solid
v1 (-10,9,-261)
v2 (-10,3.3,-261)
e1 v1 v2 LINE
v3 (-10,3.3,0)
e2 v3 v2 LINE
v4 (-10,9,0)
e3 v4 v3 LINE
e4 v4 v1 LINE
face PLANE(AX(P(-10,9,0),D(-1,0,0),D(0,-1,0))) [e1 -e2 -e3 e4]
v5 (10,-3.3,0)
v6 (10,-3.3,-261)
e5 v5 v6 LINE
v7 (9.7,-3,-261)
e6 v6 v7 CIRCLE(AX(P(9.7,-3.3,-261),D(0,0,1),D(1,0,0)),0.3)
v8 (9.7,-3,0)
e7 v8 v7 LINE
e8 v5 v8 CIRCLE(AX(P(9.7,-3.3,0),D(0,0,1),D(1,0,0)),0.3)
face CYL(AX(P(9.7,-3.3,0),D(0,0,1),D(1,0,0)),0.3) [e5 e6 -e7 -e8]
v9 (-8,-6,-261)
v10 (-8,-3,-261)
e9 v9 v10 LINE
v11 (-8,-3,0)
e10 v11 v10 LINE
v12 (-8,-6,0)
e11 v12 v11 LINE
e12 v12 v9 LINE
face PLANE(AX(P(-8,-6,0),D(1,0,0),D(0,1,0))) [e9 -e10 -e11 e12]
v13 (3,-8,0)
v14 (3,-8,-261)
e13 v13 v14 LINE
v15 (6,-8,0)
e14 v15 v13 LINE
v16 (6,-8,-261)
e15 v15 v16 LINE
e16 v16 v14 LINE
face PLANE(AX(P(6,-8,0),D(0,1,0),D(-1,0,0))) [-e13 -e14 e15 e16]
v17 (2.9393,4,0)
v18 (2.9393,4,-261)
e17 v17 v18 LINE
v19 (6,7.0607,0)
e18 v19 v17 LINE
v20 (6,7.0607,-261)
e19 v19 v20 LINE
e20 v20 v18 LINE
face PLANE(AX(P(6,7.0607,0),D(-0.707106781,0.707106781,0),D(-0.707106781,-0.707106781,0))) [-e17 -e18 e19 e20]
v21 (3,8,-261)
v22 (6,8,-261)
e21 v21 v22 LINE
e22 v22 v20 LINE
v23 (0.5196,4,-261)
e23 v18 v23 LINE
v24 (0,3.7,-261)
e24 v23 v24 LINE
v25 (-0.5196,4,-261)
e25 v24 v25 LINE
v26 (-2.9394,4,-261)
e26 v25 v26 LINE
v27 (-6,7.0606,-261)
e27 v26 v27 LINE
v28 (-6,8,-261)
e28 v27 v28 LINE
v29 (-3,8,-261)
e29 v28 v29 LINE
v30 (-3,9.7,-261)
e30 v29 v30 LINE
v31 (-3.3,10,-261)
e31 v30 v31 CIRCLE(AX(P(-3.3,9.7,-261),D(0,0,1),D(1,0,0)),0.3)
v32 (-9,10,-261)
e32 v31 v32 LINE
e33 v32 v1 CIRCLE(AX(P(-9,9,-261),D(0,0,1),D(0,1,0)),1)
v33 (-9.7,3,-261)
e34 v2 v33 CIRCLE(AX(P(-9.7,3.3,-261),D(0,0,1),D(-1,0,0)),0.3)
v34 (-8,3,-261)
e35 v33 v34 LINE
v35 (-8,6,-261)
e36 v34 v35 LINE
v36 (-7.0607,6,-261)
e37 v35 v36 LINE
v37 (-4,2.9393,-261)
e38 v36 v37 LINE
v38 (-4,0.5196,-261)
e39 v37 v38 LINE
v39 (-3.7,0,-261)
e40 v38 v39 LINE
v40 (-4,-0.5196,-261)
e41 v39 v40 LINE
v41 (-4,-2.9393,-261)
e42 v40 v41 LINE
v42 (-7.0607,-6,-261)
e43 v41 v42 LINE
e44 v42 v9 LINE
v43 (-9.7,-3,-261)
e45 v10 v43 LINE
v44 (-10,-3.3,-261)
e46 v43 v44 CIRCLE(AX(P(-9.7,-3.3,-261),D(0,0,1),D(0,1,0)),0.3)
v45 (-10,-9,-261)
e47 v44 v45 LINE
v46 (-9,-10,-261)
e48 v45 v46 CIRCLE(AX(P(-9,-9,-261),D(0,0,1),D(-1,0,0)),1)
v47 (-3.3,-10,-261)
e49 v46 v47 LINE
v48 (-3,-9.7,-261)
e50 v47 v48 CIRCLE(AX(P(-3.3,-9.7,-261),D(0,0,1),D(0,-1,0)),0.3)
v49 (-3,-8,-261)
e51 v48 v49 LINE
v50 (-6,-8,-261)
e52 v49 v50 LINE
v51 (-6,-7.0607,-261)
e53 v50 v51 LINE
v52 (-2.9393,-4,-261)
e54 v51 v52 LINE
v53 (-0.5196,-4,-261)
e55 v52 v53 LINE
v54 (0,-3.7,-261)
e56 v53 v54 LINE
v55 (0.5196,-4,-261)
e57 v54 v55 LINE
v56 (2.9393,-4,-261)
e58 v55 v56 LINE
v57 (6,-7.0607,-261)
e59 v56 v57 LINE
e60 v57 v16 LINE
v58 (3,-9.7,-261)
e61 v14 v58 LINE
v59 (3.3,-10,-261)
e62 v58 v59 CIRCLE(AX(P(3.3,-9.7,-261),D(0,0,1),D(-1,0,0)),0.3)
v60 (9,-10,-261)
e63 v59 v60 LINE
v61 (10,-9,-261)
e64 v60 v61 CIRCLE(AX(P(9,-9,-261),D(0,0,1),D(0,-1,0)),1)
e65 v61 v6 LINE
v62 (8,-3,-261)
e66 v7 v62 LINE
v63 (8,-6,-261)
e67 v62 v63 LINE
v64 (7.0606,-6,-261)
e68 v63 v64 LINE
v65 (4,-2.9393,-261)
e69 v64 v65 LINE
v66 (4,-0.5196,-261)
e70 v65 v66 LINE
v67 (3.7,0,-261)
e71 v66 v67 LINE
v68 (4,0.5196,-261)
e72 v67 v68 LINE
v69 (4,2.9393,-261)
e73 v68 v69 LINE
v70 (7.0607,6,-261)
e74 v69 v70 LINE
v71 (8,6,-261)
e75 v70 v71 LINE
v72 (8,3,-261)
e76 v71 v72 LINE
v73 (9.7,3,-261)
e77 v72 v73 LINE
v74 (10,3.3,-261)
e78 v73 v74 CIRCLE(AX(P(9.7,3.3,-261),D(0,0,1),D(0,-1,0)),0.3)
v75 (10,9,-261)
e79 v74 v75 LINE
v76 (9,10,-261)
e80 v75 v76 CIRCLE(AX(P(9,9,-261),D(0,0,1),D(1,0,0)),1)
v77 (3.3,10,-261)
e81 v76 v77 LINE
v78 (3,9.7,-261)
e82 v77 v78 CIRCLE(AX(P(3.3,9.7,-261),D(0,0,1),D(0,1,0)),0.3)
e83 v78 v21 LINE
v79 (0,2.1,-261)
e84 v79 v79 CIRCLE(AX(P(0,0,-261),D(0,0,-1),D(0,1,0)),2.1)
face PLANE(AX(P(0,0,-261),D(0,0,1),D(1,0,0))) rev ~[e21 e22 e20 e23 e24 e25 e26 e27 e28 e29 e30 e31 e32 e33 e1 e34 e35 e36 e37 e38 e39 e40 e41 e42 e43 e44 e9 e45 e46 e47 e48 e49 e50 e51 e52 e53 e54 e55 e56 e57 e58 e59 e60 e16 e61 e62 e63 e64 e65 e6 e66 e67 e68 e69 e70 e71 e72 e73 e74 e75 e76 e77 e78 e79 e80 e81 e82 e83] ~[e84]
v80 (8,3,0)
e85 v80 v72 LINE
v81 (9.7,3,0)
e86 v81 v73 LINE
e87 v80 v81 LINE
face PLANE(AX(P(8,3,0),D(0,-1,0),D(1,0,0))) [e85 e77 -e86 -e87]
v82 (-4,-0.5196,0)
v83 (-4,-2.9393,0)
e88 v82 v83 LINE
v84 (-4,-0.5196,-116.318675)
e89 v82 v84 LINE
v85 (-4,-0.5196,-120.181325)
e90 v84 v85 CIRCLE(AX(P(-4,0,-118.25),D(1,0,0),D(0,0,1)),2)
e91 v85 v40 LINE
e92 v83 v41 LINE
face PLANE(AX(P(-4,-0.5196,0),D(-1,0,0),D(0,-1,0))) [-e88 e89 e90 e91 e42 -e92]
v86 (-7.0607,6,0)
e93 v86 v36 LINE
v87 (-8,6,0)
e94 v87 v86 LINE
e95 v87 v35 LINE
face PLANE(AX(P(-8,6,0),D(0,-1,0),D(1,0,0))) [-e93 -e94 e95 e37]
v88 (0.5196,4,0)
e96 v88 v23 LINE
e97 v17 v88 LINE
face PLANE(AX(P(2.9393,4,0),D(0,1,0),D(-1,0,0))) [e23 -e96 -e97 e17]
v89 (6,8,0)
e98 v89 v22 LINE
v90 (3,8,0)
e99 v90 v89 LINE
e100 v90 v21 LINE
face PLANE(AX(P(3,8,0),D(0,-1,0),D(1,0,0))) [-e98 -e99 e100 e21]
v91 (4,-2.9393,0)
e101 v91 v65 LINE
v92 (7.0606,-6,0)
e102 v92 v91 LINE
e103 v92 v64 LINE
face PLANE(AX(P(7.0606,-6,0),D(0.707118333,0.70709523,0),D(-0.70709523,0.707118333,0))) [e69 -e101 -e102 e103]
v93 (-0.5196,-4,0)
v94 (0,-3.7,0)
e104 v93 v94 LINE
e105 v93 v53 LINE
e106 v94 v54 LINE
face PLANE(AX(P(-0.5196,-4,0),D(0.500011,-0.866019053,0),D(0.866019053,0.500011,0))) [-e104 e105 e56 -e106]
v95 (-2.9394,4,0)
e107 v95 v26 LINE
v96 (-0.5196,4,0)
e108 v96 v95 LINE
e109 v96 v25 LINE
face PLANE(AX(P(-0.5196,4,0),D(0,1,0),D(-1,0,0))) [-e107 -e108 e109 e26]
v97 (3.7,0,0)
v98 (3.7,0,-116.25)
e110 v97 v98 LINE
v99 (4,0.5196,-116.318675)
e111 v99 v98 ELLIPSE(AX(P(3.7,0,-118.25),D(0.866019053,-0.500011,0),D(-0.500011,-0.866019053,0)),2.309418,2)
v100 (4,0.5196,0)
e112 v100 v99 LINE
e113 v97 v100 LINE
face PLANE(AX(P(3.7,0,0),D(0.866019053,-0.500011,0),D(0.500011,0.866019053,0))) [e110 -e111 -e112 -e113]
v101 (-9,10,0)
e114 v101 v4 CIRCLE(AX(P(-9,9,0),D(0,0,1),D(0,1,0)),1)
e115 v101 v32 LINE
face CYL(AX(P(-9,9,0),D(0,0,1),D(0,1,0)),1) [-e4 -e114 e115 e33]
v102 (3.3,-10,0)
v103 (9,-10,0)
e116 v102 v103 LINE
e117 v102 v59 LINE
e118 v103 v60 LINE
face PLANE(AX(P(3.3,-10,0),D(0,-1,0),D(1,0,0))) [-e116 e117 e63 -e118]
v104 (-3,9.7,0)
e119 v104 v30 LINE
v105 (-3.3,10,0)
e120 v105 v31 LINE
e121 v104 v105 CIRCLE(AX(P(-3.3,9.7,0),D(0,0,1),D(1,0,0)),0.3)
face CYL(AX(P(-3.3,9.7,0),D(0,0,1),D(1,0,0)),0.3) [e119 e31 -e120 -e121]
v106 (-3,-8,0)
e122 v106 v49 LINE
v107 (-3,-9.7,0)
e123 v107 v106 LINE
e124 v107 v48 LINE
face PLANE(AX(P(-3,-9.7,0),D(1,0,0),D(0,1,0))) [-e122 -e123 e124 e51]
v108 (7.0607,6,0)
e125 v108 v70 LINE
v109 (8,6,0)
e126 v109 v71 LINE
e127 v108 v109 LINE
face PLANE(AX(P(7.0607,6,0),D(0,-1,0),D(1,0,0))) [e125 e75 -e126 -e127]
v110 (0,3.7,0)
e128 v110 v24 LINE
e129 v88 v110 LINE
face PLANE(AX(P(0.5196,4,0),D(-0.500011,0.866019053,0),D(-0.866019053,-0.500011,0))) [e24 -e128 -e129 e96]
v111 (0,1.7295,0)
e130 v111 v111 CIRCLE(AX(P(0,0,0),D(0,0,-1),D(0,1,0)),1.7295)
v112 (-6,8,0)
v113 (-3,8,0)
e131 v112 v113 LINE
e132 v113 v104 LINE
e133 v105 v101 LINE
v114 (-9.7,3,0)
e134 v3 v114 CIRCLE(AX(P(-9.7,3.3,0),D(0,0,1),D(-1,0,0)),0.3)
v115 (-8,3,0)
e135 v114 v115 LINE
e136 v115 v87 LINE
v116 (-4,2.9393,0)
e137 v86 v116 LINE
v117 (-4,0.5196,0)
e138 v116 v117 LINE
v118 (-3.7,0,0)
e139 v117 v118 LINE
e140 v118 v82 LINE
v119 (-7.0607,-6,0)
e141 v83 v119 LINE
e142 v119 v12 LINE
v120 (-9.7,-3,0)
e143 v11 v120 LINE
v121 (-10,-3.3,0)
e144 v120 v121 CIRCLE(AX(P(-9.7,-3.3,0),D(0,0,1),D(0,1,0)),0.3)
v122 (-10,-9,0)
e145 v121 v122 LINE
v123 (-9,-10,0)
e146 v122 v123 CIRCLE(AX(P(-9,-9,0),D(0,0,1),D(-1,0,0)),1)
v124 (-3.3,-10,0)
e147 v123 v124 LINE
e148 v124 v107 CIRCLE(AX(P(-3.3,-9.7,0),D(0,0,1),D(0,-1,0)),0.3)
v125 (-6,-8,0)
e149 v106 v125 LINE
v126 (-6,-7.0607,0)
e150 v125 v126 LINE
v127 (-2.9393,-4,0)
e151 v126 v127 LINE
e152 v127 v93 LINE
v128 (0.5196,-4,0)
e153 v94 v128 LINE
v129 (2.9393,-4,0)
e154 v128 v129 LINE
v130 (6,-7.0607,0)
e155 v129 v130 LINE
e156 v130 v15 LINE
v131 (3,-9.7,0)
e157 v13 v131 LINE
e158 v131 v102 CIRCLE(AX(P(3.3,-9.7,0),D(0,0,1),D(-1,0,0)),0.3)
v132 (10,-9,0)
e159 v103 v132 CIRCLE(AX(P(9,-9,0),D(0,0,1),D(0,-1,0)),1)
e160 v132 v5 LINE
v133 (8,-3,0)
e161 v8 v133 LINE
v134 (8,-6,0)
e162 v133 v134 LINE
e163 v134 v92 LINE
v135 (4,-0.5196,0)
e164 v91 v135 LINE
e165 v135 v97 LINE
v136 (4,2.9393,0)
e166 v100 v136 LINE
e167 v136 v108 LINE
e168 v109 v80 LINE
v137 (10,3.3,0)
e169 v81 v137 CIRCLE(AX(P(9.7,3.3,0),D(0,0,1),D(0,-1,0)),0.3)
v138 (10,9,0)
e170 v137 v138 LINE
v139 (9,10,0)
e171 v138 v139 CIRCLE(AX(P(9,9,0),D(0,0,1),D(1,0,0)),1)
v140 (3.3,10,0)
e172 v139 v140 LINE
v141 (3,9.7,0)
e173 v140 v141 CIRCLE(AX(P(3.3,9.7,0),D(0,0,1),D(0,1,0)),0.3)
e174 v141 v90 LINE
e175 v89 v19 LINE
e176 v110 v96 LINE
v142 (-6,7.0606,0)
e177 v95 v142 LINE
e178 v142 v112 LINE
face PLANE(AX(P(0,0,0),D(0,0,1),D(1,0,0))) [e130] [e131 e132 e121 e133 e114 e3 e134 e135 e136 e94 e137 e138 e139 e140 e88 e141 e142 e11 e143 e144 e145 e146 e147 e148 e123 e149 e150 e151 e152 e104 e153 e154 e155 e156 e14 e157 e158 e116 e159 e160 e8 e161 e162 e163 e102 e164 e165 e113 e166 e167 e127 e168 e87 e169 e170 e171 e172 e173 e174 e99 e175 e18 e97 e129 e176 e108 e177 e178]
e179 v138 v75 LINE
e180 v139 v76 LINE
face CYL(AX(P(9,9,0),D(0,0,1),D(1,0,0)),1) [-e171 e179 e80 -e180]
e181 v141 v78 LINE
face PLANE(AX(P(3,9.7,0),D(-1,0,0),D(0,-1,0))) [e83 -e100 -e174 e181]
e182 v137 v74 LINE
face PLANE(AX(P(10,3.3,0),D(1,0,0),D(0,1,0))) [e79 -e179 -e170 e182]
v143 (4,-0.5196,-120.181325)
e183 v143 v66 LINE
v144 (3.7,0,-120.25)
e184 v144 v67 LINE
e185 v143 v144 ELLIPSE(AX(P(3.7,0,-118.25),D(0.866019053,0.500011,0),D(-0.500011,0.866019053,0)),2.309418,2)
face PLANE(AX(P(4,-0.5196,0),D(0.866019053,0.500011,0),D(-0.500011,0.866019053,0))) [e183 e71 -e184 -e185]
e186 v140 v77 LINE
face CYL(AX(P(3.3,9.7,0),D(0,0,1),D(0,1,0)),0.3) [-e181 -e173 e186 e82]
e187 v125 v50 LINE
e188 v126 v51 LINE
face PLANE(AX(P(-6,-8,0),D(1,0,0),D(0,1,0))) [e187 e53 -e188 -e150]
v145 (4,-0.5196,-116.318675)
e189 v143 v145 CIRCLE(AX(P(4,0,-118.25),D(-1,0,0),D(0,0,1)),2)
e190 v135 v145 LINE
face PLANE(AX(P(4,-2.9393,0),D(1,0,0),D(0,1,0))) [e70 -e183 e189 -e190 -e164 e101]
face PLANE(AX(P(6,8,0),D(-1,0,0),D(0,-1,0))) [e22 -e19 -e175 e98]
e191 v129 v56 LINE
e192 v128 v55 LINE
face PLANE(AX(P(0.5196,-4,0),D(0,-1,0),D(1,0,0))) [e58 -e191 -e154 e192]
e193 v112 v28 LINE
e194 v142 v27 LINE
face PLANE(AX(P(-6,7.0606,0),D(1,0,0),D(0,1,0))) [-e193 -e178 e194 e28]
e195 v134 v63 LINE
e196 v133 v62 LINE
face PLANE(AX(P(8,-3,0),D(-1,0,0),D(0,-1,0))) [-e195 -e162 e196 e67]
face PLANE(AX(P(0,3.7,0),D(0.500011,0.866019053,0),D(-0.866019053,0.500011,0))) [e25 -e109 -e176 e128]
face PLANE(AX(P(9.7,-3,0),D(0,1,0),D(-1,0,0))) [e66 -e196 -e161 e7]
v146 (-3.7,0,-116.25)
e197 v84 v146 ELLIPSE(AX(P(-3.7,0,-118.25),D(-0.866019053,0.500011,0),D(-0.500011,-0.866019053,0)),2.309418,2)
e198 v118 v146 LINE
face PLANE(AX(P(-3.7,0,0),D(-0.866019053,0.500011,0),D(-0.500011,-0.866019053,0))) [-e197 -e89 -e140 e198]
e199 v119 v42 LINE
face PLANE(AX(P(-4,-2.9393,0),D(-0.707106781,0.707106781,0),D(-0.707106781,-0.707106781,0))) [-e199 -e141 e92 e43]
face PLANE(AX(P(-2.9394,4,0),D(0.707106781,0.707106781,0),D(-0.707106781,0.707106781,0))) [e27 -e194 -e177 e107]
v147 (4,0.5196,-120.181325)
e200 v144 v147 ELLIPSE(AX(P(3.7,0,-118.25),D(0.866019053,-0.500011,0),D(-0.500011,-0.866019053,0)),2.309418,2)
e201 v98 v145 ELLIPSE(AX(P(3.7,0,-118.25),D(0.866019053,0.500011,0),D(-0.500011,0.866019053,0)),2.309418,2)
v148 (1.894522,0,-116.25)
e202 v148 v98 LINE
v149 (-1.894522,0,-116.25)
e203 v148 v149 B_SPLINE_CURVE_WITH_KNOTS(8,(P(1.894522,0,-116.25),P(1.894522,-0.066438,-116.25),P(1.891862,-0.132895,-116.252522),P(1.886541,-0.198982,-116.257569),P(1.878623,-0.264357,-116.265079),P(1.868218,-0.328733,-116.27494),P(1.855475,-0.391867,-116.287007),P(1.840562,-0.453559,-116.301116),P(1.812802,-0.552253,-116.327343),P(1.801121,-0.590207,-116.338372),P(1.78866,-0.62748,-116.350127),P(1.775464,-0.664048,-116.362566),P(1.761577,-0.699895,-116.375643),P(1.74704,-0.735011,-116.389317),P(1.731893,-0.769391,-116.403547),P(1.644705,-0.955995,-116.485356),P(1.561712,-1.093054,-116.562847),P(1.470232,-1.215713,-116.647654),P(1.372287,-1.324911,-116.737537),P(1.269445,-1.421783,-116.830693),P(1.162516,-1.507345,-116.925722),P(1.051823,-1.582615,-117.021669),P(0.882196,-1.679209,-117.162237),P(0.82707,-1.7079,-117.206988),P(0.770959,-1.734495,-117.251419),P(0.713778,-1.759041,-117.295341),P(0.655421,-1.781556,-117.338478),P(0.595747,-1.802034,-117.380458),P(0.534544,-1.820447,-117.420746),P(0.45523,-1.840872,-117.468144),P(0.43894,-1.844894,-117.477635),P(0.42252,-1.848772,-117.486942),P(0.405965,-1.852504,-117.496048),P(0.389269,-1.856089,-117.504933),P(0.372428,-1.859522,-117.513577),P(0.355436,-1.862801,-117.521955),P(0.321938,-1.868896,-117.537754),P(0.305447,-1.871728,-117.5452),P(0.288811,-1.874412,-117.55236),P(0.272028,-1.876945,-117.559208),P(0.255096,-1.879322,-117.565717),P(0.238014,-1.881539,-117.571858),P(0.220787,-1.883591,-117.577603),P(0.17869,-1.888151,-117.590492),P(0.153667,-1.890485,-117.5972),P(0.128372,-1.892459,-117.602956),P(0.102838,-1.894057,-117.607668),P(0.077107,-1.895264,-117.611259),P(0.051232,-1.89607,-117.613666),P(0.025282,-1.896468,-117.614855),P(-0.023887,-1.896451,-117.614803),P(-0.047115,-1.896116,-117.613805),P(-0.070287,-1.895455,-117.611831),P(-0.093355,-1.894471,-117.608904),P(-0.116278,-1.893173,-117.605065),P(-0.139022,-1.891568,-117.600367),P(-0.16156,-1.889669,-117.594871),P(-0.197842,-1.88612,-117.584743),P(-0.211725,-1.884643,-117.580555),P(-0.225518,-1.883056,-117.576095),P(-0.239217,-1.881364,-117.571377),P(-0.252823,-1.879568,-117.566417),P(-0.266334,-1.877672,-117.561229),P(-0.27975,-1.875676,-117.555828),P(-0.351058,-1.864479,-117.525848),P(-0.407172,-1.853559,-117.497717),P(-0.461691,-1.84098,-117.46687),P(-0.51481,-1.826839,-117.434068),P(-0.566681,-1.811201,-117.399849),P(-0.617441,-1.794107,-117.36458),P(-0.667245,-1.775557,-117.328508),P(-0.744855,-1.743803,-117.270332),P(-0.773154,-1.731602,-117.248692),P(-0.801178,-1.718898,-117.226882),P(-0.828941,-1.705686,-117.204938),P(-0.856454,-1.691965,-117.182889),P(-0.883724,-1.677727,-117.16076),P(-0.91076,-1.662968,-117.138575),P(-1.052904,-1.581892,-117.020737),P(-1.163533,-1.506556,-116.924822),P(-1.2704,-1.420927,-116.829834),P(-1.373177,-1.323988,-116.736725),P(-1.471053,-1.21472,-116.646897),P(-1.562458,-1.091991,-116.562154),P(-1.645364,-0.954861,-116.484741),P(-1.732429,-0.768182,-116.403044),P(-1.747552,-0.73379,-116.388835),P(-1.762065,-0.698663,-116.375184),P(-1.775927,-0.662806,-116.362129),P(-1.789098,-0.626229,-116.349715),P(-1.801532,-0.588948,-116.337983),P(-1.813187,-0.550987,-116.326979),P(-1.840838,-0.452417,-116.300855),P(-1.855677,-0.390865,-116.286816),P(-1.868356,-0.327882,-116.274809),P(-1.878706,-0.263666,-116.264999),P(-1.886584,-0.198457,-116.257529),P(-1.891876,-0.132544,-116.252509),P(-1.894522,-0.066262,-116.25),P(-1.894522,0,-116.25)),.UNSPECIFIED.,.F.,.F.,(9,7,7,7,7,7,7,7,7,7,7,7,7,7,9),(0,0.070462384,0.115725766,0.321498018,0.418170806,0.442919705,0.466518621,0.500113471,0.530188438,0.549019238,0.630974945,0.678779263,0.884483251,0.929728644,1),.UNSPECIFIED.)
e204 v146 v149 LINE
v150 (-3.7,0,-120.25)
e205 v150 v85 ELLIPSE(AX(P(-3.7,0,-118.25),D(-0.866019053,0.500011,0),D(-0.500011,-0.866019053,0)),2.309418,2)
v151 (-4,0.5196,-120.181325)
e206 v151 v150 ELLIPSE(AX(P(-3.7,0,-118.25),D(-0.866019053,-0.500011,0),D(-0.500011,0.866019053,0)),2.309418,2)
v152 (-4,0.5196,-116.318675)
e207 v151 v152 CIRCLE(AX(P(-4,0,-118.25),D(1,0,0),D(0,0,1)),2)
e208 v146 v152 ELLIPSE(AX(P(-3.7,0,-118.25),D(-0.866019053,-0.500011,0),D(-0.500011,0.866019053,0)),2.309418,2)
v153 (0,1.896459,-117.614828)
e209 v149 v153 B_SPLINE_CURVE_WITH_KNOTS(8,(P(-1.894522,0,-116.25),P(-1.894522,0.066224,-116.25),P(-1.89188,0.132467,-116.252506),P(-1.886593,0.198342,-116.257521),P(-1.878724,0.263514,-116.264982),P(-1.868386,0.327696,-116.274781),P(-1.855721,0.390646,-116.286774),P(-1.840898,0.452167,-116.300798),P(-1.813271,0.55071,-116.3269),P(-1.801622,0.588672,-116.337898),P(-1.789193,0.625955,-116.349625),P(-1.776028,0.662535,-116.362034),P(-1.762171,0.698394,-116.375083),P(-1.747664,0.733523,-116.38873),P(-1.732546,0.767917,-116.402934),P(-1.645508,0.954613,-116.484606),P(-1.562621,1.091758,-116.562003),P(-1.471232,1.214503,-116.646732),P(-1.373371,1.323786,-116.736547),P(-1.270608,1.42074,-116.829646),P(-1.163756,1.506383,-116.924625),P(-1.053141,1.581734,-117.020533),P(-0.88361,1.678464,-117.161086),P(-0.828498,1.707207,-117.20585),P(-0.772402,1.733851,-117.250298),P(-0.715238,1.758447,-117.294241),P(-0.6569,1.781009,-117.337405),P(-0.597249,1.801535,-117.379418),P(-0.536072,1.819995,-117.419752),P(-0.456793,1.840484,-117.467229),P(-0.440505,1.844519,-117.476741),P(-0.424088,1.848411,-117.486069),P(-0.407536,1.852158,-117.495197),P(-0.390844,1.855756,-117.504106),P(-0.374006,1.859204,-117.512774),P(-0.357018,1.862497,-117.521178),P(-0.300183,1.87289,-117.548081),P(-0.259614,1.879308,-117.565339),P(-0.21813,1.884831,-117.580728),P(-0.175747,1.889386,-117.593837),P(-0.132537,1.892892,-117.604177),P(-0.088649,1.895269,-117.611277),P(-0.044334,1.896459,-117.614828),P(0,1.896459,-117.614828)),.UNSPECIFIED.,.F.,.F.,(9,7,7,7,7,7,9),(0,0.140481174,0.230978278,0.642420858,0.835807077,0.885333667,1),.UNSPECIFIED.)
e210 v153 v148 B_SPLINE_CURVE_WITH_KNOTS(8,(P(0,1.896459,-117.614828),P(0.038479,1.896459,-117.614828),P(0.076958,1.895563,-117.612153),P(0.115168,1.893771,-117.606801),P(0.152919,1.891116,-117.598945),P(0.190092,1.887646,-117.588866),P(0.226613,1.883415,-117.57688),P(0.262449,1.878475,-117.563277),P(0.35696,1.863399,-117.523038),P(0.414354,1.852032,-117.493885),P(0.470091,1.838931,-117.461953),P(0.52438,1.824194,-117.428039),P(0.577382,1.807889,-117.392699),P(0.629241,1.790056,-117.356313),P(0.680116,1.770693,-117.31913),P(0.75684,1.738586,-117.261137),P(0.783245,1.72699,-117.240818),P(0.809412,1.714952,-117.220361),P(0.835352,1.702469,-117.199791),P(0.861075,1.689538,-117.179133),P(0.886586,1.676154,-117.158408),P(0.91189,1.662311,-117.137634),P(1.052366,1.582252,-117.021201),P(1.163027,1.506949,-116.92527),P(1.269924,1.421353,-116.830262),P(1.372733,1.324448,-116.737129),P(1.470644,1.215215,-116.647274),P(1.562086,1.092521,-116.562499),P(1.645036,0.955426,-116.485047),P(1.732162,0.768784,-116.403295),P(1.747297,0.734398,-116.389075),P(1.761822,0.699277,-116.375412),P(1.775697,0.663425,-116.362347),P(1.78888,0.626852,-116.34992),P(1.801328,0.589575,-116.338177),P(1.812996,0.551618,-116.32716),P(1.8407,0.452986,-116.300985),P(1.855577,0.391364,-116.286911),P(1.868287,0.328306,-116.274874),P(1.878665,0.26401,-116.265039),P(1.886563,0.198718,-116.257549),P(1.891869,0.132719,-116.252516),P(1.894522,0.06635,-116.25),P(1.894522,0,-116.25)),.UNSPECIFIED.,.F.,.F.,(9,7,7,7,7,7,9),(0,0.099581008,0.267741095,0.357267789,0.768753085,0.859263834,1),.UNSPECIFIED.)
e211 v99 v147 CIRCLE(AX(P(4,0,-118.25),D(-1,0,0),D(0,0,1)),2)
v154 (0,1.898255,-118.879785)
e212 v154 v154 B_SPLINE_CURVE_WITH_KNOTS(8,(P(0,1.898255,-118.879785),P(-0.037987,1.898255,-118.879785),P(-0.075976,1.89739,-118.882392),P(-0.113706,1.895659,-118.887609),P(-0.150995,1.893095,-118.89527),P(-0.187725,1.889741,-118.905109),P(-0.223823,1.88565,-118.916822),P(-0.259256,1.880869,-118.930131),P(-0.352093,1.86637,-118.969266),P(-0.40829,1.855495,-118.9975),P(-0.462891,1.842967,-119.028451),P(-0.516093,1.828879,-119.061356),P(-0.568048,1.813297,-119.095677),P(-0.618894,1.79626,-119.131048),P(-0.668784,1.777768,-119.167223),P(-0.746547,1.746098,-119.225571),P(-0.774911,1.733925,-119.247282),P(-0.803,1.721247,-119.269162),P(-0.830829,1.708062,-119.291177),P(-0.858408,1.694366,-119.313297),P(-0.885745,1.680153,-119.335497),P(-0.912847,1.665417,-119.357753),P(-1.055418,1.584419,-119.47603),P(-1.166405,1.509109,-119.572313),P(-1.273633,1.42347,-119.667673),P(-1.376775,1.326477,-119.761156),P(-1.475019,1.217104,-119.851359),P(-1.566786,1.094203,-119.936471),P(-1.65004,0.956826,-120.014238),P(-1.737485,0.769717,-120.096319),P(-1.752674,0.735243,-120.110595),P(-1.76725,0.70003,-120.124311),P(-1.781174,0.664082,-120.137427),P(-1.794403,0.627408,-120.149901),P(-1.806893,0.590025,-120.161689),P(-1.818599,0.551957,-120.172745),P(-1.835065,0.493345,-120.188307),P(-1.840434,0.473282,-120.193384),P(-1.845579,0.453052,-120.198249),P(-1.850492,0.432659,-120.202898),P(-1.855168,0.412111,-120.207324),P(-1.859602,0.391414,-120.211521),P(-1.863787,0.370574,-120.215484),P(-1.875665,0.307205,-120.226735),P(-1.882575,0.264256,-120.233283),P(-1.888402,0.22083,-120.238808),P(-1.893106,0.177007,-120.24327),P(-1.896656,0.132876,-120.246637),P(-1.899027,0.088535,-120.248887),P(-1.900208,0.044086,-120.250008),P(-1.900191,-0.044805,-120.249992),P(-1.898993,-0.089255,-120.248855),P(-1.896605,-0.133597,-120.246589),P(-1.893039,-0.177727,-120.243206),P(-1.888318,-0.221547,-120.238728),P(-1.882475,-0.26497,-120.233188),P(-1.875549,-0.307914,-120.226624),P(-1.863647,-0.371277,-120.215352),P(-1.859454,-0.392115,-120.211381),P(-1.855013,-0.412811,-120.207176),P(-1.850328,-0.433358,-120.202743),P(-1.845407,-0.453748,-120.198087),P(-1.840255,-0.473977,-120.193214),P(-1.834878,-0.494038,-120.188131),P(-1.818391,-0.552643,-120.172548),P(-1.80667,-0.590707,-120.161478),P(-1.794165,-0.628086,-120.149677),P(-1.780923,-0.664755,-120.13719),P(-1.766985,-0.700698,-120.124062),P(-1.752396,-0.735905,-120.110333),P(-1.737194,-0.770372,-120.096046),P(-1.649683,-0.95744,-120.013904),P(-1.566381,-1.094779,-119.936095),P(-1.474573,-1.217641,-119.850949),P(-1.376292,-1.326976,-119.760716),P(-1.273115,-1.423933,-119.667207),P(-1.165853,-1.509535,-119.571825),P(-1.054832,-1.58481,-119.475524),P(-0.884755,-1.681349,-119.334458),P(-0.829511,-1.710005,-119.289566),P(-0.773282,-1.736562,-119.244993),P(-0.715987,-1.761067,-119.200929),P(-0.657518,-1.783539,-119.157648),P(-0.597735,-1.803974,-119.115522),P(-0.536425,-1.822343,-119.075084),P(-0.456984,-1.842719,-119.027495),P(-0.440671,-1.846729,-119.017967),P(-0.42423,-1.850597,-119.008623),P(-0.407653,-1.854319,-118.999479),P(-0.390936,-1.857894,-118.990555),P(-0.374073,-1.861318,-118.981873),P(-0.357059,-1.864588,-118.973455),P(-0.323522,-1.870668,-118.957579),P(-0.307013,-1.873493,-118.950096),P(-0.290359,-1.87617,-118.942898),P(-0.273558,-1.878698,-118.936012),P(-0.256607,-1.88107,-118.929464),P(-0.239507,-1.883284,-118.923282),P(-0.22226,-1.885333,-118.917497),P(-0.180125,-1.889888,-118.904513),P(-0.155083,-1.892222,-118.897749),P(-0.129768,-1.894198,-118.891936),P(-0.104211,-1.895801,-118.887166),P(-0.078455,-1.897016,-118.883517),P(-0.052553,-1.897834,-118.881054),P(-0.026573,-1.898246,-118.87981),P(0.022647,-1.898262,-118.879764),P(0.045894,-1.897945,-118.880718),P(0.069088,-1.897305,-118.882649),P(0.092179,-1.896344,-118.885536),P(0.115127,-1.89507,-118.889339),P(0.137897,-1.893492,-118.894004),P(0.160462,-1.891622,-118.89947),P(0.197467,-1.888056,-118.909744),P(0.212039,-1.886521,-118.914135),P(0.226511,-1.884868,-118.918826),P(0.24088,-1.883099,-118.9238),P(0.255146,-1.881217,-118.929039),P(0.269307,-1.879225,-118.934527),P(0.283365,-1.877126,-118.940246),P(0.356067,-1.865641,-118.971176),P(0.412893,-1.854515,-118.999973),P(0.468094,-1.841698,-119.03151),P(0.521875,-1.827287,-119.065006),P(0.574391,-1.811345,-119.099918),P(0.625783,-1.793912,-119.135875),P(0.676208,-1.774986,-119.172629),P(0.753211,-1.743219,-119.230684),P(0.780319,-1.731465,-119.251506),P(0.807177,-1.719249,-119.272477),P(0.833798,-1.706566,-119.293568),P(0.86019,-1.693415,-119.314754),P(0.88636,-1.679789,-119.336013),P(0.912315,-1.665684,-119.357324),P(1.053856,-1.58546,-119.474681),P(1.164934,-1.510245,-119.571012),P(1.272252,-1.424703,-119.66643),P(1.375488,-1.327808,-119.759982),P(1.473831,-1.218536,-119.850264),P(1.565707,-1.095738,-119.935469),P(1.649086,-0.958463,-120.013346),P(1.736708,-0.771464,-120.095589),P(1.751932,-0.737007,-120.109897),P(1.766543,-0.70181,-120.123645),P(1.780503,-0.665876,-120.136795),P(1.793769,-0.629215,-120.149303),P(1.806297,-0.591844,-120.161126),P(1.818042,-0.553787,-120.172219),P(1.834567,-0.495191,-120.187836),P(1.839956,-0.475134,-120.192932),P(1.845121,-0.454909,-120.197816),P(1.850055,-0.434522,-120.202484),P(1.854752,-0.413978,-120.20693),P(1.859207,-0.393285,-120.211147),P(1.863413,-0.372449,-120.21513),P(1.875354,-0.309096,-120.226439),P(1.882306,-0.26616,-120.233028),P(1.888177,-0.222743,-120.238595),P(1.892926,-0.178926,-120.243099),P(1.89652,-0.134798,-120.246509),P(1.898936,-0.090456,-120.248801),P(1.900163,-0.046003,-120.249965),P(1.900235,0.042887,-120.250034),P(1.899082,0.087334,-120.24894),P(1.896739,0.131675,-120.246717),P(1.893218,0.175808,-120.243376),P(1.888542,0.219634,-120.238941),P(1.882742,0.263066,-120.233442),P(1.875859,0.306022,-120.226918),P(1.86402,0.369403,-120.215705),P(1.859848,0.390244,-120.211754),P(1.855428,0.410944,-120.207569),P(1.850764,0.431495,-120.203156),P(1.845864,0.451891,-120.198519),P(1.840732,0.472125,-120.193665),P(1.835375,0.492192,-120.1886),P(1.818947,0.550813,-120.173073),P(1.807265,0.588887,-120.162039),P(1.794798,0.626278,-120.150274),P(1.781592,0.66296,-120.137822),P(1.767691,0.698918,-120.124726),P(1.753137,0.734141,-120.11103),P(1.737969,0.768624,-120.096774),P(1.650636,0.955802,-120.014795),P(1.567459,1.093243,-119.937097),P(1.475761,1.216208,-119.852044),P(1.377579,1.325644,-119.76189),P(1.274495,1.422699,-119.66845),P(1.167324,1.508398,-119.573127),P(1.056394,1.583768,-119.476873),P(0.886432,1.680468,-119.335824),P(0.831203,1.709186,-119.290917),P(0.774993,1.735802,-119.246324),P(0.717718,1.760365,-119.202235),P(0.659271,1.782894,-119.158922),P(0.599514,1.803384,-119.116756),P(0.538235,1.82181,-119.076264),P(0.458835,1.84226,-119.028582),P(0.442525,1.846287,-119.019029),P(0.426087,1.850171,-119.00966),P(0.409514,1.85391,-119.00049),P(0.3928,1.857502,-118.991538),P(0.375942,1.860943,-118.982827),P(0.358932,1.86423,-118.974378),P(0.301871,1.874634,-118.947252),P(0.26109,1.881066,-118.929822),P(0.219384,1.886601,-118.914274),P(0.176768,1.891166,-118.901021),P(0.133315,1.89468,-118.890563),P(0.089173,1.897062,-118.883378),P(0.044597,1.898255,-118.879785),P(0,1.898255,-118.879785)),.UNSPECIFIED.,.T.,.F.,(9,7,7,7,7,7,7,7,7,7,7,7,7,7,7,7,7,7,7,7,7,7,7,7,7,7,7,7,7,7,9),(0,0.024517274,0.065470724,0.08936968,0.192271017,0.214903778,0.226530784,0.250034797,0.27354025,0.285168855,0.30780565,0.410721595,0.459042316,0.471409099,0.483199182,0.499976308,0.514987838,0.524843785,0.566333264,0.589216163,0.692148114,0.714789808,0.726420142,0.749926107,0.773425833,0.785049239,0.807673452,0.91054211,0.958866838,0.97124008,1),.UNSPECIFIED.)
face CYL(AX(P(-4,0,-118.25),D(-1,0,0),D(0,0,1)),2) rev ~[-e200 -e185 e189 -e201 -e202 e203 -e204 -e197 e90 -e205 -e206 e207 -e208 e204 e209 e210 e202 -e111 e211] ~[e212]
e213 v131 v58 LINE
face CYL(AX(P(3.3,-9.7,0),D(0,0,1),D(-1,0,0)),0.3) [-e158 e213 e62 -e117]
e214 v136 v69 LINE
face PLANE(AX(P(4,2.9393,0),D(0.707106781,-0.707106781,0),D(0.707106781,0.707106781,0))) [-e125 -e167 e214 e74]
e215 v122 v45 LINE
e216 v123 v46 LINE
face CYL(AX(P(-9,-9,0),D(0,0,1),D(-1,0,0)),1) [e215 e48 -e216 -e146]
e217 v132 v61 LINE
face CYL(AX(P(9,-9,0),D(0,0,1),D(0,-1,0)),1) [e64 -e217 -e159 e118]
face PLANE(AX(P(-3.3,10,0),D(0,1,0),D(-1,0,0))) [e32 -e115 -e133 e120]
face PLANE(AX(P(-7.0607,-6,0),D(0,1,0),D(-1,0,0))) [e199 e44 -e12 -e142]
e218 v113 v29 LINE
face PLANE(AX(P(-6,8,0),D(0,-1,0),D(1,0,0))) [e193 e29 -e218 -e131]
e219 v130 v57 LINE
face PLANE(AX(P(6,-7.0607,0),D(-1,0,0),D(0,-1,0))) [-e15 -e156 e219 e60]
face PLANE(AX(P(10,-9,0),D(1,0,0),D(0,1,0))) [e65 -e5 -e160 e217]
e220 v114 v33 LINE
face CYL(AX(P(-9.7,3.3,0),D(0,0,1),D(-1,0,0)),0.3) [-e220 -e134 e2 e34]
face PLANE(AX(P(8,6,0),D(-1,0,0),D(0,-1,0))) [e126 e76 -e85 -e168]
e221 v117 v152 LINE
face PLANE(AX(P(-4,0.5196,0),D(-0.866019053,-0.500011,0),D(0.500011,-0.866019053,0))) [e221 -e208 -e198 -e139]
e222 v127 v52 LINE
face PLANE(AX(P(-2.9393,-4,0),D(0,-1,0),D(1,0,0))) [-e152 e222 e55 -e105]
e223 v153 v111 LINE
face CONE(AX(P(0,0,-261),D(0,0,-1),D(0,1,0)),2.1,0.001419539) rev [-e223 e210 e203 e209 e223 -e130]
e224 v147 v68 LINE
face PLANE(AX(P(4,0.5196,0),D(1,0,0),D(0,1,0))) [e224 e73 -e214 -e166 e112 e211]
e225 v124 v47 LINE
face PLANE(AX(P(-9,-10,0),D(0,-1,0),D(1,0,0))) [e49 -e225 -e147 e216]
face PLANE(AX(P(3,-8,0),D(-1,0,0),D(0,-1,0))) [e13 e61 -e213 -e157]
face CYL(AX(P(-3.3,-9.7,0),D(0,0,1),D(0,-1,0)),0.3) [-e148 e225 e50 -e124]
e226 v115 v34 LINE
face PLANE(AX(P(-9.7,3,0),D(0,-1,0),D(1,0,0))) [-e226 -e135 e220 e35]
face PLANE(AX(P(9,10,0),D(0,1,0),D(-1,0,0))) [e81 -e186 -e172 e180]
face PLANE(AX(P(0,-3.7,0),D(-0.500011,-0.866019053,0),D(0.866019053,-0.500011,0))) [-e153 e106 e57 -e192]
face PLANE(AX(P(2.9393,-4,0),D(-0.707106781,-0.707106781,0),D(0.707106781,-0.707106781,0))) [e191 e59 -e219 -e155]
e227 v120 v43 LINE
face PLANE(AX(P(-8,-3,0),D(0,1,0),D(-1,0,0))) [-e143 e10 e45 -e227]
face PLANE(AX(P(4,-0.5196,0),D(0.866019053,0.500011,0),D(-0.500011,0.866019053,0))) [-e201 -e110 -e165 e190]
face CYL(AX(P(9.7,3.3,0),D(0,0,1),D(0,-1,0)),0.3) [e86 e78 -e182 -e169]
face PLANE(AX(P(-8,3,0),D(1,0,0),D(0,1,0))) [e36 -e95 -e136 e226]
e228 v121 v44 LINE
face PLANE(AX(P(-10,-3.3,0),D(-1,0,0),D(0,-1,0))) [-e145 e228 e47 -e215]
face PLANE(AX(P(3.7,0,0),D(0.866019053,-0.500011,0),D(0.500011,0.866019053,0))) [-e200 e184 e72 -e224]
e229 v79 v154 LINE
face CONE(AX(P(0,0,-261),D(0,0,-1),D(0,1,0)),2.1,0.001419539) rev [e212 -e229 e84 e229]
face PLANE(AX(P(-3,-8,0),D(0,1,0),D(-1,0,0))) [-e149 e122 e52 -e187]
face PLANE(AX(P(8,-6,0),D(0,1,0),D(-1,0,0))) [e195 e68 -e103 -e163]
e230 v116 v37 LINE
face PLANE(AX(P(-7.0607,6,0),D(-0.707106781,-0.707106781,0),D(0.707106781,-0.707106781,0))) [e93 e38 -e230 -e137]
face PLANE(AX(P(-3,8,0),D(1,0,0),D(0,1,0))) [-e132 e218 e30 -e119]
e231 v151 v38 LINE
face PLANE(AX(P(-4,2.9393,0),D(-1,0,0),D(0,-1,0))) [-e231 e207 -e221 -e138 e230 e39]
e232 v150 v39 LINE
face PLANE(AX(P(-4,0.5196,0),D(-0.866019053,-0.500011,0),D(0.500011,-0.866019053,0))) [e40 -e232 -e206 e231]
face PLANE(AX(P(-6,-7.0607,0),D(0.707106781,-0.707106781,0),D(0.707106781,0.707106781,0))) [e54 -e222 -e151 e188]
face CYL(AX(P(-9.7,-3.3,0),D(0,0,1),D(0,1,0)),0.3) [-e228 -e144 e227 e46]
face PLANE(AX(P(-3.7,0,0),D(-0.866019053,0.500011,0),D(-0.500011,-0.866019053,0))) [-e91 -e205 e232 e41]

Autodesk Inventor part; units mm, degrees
sketch "Sketch_1" plane through (0, 0, 0) normal (0, 0, 1) x (1, 0, 0)
  line L0 (-10, 9) -> (-10, 3.3)
  arc A0 (-10, 3.3) -> (-9.7, 3) centre (-9.7, 3.3) ccw
  line L1 (-9.7, 3) -> (-8, 3)
  line L2 (-8, 3) -> (-8, 6)
  line L3 (-8, 6) -> (-7.0607, 6)
  line L4 (-7.0607, 6) -> (-4, 2.9393)
  line L5 (-4, 2.9393) -> (-4, 0.5196)
  line L6 (-4, 0.5196) -> (-3.7, 0)
  line L7 (-3.7, 0) -> (-4, -0.5196)
  line L8 (-4, -0.5196) -> (-4, -2.9393)
  line L9 (-4, -2.9393) -> (-7.0607, -6)
  line L10 (-7.0607, -6) -> (-8, -6)
  line L11 (-8, -6) -> (-8, -3)
  line L12 (-8, -3) -> (-9.7, -3)
  arc A1 (-9.7, -3) -> (-10, -3.3) centre (-9.7, -3.3) ccw
  line L13 (-10, -3.3) -> (-10, -9)
  arc A2 (-10, -9) -> (-9, -10) centre (-9, -9) ccw
  line L14 (-9, -10) -> (-3.3, -10)
  arc A3 (-3.3, -10) -> (-3, -9.7) centre (-3.3, -9.7) ccw
  line L15 (-3, -9.7) -> (-3, -8)
  line L16 (-3, -8) -> (-6, -8)
  line L17 (-6, -8) -> (-6, -7.0607)
  line L18 (-6, -7.0607) -> (-2.9393, -4)
  line L19 (-2.9393, -4) -> (-0.5196, -4)
  line L20 (-0.5196, -4) -> (0, -3.7)
  line L21 (0, -3.7) -> (0.5196, -4)
  line L22 (0.5196, -4) -> (2.9393, -4)
  line L23 (2.9393, -4) -> (6, -7.0607)
  line L24 (6, -7.0607) -> (6, -8)
  line L25 (6, -8) -> (3, -8)
  line L26 (3, -8) -> (3, -9.7)
  arc A4 (3, -9.7) -> (3.3, -10) centre (3.3, -9.7) ccw
  line L27 (3.3, -10) -> (9, -10)
  arc A5 (9, -10) -> (10, -9) centre (9, -9) ccw
  line L28 (10, -9) -> (10, -3.3)
  arc A6 (10, -3.3) -> (9.7, -3) centre (9.7, -3.3) ccw
  line L29 (9.7, -3) -> (8, -3)
  line L30 (8, -3) -> (8, -6)
  line L31 (8, -6) -> (7.0606, -6)
  line L32 (7.0606, -6) -> (4, -2.9393)
  line L33 (4, -2.9393) -> (4, -0.5196)
  line L34 (4, -0.5196) -> (3.7, 0)
  line L35 (3.7, 0) -> (4, 0.5196)
  line L36 (4, 0.5196) -> (4, 2.9393)
  line L37 (4, 2.9393) -> (7.0607, 6)
  line L38 (7.0607, 6) -> (8, 6)
  line L39 (8, 6) -> (8, 3)
  line L40 (8, 3) -> (9.7, 3)
  arc A7 (9.7, 3) -> (10, 3.3) centre (9.7, 3.3) ccw
  line L41 (10, 3.3) -> (10, 9)
  arc A8 (10, 9) -> (9, 10) centre (9, 9) ccw
  line L42 (9, 10) -> (3.3, 10)
  arc A9 (3.3, 10) -> (3, 9.7) centre (3.3, 9.7) ccw
  line L43 (3, 9.7) -> (3, 8)
  line L44 (3, 8) -> (6, 8)
  line L45 (6, 8) -> (6, 7.0607)
  line L46 (6, 7.0607) -> (2.9393, 4)
  line L47 (2.9393, 4) -> (0.5196, 4)
  line L48 (0.5196, 4) -> (0, 3.7)
  line L49 (0, 3.7) -> (-0.5196, 4)
  line L50 (-0.5196, 4) -> (-2.9394, 4)
  line L51 (-2.9394, 4) -> (-6, 7.0606)
  line L52 (-6, 7.0606) -> (-6, 8)
  line L53 (-6, 8) -> (-3, 8)
  line L54 (-3, 8) -> (-3, 9.7)
  arc A10 (-3, 9.7) -> (-3.3, 10) centre (-3.3, 9.7) ccw
  line L55 (-3.3, 10) -> (-9, 10)
  arc A11 (-9, 10) -> (-10, 9) centre (-9, 9) ccw
extrude "Extrusion1" add sketch "Sketch_1" against normal blind 261
sketch "Sketch_2" plane through (0, 0, 0) normal (1, 0, 0) x (0, 0, -1)
  line L0 (261, -2.9393) -> (261, -0.5196) projected
  line L1 (0, 0.5196) -> (0, 2.9393) projected
  line L2 (0, 0) -> (0, 0.5196) projected
  line L3 (0, 0) -> (261, 0)
  line L4 (261, 0) -> (261, 2.1)
  line L5 (261, 0.5196) -> (261, 2.9393) projected
  line L6 (261, 2.1) -> (0, 1.7295)
  line L7 (0, 1.7295) -> (0, 0)
  dimension "d3" = 2.1
ref_plane "C1_XY" through (0, 0, 0) normal (0, 0, 1) x (1, 0, 0)
ref_plane "C1_YZ" through (0, 0, 0) normal (1, 0, 0) x (0, 1, 0)
ref_plane "C1_ZX" through (0, 0, 0) normal (0, 1, 0) x (0, 0, 1)
revolve "Revolution2" cut sketch "Sketch_2" angle 360 about axis through (0, 0, 0) along (0, 0, -1)
sketch "Sketch3" plane through (-4, 0.5196, -261) normal (-1, 0, 0) x (0, 0, 1)
  line L0 (261, -0.5196) -> (0, -0.5196) projected
  line L1 (0, -1.0392) -> (0, -3.459) projected
  line L2 (261, -3.459) -> (0, -3.459) projected
  line L3 (261, -1.0392) -> (261, -3.459) projected
  line L4 (261, -1.0392) -> (0, -1.0392) projected
  line L5 (261, -0.5196) -> (0, -0.5196) projected
  circle A0 centre (142.75, -0.5196) radius 2
  line L6 (261, 8.4804) -> (261, 2.7804) projected
  dimension "d5" = 4
  dimension "d6" = 118.25
extrude "Extrusion2" cut sketch "Sketch3" against normal up to next contours A0 L4 L0 | L0 A0 | A0 L4
properties part number "ZBedSupportExtrusion" material "Aluminum 6061"
